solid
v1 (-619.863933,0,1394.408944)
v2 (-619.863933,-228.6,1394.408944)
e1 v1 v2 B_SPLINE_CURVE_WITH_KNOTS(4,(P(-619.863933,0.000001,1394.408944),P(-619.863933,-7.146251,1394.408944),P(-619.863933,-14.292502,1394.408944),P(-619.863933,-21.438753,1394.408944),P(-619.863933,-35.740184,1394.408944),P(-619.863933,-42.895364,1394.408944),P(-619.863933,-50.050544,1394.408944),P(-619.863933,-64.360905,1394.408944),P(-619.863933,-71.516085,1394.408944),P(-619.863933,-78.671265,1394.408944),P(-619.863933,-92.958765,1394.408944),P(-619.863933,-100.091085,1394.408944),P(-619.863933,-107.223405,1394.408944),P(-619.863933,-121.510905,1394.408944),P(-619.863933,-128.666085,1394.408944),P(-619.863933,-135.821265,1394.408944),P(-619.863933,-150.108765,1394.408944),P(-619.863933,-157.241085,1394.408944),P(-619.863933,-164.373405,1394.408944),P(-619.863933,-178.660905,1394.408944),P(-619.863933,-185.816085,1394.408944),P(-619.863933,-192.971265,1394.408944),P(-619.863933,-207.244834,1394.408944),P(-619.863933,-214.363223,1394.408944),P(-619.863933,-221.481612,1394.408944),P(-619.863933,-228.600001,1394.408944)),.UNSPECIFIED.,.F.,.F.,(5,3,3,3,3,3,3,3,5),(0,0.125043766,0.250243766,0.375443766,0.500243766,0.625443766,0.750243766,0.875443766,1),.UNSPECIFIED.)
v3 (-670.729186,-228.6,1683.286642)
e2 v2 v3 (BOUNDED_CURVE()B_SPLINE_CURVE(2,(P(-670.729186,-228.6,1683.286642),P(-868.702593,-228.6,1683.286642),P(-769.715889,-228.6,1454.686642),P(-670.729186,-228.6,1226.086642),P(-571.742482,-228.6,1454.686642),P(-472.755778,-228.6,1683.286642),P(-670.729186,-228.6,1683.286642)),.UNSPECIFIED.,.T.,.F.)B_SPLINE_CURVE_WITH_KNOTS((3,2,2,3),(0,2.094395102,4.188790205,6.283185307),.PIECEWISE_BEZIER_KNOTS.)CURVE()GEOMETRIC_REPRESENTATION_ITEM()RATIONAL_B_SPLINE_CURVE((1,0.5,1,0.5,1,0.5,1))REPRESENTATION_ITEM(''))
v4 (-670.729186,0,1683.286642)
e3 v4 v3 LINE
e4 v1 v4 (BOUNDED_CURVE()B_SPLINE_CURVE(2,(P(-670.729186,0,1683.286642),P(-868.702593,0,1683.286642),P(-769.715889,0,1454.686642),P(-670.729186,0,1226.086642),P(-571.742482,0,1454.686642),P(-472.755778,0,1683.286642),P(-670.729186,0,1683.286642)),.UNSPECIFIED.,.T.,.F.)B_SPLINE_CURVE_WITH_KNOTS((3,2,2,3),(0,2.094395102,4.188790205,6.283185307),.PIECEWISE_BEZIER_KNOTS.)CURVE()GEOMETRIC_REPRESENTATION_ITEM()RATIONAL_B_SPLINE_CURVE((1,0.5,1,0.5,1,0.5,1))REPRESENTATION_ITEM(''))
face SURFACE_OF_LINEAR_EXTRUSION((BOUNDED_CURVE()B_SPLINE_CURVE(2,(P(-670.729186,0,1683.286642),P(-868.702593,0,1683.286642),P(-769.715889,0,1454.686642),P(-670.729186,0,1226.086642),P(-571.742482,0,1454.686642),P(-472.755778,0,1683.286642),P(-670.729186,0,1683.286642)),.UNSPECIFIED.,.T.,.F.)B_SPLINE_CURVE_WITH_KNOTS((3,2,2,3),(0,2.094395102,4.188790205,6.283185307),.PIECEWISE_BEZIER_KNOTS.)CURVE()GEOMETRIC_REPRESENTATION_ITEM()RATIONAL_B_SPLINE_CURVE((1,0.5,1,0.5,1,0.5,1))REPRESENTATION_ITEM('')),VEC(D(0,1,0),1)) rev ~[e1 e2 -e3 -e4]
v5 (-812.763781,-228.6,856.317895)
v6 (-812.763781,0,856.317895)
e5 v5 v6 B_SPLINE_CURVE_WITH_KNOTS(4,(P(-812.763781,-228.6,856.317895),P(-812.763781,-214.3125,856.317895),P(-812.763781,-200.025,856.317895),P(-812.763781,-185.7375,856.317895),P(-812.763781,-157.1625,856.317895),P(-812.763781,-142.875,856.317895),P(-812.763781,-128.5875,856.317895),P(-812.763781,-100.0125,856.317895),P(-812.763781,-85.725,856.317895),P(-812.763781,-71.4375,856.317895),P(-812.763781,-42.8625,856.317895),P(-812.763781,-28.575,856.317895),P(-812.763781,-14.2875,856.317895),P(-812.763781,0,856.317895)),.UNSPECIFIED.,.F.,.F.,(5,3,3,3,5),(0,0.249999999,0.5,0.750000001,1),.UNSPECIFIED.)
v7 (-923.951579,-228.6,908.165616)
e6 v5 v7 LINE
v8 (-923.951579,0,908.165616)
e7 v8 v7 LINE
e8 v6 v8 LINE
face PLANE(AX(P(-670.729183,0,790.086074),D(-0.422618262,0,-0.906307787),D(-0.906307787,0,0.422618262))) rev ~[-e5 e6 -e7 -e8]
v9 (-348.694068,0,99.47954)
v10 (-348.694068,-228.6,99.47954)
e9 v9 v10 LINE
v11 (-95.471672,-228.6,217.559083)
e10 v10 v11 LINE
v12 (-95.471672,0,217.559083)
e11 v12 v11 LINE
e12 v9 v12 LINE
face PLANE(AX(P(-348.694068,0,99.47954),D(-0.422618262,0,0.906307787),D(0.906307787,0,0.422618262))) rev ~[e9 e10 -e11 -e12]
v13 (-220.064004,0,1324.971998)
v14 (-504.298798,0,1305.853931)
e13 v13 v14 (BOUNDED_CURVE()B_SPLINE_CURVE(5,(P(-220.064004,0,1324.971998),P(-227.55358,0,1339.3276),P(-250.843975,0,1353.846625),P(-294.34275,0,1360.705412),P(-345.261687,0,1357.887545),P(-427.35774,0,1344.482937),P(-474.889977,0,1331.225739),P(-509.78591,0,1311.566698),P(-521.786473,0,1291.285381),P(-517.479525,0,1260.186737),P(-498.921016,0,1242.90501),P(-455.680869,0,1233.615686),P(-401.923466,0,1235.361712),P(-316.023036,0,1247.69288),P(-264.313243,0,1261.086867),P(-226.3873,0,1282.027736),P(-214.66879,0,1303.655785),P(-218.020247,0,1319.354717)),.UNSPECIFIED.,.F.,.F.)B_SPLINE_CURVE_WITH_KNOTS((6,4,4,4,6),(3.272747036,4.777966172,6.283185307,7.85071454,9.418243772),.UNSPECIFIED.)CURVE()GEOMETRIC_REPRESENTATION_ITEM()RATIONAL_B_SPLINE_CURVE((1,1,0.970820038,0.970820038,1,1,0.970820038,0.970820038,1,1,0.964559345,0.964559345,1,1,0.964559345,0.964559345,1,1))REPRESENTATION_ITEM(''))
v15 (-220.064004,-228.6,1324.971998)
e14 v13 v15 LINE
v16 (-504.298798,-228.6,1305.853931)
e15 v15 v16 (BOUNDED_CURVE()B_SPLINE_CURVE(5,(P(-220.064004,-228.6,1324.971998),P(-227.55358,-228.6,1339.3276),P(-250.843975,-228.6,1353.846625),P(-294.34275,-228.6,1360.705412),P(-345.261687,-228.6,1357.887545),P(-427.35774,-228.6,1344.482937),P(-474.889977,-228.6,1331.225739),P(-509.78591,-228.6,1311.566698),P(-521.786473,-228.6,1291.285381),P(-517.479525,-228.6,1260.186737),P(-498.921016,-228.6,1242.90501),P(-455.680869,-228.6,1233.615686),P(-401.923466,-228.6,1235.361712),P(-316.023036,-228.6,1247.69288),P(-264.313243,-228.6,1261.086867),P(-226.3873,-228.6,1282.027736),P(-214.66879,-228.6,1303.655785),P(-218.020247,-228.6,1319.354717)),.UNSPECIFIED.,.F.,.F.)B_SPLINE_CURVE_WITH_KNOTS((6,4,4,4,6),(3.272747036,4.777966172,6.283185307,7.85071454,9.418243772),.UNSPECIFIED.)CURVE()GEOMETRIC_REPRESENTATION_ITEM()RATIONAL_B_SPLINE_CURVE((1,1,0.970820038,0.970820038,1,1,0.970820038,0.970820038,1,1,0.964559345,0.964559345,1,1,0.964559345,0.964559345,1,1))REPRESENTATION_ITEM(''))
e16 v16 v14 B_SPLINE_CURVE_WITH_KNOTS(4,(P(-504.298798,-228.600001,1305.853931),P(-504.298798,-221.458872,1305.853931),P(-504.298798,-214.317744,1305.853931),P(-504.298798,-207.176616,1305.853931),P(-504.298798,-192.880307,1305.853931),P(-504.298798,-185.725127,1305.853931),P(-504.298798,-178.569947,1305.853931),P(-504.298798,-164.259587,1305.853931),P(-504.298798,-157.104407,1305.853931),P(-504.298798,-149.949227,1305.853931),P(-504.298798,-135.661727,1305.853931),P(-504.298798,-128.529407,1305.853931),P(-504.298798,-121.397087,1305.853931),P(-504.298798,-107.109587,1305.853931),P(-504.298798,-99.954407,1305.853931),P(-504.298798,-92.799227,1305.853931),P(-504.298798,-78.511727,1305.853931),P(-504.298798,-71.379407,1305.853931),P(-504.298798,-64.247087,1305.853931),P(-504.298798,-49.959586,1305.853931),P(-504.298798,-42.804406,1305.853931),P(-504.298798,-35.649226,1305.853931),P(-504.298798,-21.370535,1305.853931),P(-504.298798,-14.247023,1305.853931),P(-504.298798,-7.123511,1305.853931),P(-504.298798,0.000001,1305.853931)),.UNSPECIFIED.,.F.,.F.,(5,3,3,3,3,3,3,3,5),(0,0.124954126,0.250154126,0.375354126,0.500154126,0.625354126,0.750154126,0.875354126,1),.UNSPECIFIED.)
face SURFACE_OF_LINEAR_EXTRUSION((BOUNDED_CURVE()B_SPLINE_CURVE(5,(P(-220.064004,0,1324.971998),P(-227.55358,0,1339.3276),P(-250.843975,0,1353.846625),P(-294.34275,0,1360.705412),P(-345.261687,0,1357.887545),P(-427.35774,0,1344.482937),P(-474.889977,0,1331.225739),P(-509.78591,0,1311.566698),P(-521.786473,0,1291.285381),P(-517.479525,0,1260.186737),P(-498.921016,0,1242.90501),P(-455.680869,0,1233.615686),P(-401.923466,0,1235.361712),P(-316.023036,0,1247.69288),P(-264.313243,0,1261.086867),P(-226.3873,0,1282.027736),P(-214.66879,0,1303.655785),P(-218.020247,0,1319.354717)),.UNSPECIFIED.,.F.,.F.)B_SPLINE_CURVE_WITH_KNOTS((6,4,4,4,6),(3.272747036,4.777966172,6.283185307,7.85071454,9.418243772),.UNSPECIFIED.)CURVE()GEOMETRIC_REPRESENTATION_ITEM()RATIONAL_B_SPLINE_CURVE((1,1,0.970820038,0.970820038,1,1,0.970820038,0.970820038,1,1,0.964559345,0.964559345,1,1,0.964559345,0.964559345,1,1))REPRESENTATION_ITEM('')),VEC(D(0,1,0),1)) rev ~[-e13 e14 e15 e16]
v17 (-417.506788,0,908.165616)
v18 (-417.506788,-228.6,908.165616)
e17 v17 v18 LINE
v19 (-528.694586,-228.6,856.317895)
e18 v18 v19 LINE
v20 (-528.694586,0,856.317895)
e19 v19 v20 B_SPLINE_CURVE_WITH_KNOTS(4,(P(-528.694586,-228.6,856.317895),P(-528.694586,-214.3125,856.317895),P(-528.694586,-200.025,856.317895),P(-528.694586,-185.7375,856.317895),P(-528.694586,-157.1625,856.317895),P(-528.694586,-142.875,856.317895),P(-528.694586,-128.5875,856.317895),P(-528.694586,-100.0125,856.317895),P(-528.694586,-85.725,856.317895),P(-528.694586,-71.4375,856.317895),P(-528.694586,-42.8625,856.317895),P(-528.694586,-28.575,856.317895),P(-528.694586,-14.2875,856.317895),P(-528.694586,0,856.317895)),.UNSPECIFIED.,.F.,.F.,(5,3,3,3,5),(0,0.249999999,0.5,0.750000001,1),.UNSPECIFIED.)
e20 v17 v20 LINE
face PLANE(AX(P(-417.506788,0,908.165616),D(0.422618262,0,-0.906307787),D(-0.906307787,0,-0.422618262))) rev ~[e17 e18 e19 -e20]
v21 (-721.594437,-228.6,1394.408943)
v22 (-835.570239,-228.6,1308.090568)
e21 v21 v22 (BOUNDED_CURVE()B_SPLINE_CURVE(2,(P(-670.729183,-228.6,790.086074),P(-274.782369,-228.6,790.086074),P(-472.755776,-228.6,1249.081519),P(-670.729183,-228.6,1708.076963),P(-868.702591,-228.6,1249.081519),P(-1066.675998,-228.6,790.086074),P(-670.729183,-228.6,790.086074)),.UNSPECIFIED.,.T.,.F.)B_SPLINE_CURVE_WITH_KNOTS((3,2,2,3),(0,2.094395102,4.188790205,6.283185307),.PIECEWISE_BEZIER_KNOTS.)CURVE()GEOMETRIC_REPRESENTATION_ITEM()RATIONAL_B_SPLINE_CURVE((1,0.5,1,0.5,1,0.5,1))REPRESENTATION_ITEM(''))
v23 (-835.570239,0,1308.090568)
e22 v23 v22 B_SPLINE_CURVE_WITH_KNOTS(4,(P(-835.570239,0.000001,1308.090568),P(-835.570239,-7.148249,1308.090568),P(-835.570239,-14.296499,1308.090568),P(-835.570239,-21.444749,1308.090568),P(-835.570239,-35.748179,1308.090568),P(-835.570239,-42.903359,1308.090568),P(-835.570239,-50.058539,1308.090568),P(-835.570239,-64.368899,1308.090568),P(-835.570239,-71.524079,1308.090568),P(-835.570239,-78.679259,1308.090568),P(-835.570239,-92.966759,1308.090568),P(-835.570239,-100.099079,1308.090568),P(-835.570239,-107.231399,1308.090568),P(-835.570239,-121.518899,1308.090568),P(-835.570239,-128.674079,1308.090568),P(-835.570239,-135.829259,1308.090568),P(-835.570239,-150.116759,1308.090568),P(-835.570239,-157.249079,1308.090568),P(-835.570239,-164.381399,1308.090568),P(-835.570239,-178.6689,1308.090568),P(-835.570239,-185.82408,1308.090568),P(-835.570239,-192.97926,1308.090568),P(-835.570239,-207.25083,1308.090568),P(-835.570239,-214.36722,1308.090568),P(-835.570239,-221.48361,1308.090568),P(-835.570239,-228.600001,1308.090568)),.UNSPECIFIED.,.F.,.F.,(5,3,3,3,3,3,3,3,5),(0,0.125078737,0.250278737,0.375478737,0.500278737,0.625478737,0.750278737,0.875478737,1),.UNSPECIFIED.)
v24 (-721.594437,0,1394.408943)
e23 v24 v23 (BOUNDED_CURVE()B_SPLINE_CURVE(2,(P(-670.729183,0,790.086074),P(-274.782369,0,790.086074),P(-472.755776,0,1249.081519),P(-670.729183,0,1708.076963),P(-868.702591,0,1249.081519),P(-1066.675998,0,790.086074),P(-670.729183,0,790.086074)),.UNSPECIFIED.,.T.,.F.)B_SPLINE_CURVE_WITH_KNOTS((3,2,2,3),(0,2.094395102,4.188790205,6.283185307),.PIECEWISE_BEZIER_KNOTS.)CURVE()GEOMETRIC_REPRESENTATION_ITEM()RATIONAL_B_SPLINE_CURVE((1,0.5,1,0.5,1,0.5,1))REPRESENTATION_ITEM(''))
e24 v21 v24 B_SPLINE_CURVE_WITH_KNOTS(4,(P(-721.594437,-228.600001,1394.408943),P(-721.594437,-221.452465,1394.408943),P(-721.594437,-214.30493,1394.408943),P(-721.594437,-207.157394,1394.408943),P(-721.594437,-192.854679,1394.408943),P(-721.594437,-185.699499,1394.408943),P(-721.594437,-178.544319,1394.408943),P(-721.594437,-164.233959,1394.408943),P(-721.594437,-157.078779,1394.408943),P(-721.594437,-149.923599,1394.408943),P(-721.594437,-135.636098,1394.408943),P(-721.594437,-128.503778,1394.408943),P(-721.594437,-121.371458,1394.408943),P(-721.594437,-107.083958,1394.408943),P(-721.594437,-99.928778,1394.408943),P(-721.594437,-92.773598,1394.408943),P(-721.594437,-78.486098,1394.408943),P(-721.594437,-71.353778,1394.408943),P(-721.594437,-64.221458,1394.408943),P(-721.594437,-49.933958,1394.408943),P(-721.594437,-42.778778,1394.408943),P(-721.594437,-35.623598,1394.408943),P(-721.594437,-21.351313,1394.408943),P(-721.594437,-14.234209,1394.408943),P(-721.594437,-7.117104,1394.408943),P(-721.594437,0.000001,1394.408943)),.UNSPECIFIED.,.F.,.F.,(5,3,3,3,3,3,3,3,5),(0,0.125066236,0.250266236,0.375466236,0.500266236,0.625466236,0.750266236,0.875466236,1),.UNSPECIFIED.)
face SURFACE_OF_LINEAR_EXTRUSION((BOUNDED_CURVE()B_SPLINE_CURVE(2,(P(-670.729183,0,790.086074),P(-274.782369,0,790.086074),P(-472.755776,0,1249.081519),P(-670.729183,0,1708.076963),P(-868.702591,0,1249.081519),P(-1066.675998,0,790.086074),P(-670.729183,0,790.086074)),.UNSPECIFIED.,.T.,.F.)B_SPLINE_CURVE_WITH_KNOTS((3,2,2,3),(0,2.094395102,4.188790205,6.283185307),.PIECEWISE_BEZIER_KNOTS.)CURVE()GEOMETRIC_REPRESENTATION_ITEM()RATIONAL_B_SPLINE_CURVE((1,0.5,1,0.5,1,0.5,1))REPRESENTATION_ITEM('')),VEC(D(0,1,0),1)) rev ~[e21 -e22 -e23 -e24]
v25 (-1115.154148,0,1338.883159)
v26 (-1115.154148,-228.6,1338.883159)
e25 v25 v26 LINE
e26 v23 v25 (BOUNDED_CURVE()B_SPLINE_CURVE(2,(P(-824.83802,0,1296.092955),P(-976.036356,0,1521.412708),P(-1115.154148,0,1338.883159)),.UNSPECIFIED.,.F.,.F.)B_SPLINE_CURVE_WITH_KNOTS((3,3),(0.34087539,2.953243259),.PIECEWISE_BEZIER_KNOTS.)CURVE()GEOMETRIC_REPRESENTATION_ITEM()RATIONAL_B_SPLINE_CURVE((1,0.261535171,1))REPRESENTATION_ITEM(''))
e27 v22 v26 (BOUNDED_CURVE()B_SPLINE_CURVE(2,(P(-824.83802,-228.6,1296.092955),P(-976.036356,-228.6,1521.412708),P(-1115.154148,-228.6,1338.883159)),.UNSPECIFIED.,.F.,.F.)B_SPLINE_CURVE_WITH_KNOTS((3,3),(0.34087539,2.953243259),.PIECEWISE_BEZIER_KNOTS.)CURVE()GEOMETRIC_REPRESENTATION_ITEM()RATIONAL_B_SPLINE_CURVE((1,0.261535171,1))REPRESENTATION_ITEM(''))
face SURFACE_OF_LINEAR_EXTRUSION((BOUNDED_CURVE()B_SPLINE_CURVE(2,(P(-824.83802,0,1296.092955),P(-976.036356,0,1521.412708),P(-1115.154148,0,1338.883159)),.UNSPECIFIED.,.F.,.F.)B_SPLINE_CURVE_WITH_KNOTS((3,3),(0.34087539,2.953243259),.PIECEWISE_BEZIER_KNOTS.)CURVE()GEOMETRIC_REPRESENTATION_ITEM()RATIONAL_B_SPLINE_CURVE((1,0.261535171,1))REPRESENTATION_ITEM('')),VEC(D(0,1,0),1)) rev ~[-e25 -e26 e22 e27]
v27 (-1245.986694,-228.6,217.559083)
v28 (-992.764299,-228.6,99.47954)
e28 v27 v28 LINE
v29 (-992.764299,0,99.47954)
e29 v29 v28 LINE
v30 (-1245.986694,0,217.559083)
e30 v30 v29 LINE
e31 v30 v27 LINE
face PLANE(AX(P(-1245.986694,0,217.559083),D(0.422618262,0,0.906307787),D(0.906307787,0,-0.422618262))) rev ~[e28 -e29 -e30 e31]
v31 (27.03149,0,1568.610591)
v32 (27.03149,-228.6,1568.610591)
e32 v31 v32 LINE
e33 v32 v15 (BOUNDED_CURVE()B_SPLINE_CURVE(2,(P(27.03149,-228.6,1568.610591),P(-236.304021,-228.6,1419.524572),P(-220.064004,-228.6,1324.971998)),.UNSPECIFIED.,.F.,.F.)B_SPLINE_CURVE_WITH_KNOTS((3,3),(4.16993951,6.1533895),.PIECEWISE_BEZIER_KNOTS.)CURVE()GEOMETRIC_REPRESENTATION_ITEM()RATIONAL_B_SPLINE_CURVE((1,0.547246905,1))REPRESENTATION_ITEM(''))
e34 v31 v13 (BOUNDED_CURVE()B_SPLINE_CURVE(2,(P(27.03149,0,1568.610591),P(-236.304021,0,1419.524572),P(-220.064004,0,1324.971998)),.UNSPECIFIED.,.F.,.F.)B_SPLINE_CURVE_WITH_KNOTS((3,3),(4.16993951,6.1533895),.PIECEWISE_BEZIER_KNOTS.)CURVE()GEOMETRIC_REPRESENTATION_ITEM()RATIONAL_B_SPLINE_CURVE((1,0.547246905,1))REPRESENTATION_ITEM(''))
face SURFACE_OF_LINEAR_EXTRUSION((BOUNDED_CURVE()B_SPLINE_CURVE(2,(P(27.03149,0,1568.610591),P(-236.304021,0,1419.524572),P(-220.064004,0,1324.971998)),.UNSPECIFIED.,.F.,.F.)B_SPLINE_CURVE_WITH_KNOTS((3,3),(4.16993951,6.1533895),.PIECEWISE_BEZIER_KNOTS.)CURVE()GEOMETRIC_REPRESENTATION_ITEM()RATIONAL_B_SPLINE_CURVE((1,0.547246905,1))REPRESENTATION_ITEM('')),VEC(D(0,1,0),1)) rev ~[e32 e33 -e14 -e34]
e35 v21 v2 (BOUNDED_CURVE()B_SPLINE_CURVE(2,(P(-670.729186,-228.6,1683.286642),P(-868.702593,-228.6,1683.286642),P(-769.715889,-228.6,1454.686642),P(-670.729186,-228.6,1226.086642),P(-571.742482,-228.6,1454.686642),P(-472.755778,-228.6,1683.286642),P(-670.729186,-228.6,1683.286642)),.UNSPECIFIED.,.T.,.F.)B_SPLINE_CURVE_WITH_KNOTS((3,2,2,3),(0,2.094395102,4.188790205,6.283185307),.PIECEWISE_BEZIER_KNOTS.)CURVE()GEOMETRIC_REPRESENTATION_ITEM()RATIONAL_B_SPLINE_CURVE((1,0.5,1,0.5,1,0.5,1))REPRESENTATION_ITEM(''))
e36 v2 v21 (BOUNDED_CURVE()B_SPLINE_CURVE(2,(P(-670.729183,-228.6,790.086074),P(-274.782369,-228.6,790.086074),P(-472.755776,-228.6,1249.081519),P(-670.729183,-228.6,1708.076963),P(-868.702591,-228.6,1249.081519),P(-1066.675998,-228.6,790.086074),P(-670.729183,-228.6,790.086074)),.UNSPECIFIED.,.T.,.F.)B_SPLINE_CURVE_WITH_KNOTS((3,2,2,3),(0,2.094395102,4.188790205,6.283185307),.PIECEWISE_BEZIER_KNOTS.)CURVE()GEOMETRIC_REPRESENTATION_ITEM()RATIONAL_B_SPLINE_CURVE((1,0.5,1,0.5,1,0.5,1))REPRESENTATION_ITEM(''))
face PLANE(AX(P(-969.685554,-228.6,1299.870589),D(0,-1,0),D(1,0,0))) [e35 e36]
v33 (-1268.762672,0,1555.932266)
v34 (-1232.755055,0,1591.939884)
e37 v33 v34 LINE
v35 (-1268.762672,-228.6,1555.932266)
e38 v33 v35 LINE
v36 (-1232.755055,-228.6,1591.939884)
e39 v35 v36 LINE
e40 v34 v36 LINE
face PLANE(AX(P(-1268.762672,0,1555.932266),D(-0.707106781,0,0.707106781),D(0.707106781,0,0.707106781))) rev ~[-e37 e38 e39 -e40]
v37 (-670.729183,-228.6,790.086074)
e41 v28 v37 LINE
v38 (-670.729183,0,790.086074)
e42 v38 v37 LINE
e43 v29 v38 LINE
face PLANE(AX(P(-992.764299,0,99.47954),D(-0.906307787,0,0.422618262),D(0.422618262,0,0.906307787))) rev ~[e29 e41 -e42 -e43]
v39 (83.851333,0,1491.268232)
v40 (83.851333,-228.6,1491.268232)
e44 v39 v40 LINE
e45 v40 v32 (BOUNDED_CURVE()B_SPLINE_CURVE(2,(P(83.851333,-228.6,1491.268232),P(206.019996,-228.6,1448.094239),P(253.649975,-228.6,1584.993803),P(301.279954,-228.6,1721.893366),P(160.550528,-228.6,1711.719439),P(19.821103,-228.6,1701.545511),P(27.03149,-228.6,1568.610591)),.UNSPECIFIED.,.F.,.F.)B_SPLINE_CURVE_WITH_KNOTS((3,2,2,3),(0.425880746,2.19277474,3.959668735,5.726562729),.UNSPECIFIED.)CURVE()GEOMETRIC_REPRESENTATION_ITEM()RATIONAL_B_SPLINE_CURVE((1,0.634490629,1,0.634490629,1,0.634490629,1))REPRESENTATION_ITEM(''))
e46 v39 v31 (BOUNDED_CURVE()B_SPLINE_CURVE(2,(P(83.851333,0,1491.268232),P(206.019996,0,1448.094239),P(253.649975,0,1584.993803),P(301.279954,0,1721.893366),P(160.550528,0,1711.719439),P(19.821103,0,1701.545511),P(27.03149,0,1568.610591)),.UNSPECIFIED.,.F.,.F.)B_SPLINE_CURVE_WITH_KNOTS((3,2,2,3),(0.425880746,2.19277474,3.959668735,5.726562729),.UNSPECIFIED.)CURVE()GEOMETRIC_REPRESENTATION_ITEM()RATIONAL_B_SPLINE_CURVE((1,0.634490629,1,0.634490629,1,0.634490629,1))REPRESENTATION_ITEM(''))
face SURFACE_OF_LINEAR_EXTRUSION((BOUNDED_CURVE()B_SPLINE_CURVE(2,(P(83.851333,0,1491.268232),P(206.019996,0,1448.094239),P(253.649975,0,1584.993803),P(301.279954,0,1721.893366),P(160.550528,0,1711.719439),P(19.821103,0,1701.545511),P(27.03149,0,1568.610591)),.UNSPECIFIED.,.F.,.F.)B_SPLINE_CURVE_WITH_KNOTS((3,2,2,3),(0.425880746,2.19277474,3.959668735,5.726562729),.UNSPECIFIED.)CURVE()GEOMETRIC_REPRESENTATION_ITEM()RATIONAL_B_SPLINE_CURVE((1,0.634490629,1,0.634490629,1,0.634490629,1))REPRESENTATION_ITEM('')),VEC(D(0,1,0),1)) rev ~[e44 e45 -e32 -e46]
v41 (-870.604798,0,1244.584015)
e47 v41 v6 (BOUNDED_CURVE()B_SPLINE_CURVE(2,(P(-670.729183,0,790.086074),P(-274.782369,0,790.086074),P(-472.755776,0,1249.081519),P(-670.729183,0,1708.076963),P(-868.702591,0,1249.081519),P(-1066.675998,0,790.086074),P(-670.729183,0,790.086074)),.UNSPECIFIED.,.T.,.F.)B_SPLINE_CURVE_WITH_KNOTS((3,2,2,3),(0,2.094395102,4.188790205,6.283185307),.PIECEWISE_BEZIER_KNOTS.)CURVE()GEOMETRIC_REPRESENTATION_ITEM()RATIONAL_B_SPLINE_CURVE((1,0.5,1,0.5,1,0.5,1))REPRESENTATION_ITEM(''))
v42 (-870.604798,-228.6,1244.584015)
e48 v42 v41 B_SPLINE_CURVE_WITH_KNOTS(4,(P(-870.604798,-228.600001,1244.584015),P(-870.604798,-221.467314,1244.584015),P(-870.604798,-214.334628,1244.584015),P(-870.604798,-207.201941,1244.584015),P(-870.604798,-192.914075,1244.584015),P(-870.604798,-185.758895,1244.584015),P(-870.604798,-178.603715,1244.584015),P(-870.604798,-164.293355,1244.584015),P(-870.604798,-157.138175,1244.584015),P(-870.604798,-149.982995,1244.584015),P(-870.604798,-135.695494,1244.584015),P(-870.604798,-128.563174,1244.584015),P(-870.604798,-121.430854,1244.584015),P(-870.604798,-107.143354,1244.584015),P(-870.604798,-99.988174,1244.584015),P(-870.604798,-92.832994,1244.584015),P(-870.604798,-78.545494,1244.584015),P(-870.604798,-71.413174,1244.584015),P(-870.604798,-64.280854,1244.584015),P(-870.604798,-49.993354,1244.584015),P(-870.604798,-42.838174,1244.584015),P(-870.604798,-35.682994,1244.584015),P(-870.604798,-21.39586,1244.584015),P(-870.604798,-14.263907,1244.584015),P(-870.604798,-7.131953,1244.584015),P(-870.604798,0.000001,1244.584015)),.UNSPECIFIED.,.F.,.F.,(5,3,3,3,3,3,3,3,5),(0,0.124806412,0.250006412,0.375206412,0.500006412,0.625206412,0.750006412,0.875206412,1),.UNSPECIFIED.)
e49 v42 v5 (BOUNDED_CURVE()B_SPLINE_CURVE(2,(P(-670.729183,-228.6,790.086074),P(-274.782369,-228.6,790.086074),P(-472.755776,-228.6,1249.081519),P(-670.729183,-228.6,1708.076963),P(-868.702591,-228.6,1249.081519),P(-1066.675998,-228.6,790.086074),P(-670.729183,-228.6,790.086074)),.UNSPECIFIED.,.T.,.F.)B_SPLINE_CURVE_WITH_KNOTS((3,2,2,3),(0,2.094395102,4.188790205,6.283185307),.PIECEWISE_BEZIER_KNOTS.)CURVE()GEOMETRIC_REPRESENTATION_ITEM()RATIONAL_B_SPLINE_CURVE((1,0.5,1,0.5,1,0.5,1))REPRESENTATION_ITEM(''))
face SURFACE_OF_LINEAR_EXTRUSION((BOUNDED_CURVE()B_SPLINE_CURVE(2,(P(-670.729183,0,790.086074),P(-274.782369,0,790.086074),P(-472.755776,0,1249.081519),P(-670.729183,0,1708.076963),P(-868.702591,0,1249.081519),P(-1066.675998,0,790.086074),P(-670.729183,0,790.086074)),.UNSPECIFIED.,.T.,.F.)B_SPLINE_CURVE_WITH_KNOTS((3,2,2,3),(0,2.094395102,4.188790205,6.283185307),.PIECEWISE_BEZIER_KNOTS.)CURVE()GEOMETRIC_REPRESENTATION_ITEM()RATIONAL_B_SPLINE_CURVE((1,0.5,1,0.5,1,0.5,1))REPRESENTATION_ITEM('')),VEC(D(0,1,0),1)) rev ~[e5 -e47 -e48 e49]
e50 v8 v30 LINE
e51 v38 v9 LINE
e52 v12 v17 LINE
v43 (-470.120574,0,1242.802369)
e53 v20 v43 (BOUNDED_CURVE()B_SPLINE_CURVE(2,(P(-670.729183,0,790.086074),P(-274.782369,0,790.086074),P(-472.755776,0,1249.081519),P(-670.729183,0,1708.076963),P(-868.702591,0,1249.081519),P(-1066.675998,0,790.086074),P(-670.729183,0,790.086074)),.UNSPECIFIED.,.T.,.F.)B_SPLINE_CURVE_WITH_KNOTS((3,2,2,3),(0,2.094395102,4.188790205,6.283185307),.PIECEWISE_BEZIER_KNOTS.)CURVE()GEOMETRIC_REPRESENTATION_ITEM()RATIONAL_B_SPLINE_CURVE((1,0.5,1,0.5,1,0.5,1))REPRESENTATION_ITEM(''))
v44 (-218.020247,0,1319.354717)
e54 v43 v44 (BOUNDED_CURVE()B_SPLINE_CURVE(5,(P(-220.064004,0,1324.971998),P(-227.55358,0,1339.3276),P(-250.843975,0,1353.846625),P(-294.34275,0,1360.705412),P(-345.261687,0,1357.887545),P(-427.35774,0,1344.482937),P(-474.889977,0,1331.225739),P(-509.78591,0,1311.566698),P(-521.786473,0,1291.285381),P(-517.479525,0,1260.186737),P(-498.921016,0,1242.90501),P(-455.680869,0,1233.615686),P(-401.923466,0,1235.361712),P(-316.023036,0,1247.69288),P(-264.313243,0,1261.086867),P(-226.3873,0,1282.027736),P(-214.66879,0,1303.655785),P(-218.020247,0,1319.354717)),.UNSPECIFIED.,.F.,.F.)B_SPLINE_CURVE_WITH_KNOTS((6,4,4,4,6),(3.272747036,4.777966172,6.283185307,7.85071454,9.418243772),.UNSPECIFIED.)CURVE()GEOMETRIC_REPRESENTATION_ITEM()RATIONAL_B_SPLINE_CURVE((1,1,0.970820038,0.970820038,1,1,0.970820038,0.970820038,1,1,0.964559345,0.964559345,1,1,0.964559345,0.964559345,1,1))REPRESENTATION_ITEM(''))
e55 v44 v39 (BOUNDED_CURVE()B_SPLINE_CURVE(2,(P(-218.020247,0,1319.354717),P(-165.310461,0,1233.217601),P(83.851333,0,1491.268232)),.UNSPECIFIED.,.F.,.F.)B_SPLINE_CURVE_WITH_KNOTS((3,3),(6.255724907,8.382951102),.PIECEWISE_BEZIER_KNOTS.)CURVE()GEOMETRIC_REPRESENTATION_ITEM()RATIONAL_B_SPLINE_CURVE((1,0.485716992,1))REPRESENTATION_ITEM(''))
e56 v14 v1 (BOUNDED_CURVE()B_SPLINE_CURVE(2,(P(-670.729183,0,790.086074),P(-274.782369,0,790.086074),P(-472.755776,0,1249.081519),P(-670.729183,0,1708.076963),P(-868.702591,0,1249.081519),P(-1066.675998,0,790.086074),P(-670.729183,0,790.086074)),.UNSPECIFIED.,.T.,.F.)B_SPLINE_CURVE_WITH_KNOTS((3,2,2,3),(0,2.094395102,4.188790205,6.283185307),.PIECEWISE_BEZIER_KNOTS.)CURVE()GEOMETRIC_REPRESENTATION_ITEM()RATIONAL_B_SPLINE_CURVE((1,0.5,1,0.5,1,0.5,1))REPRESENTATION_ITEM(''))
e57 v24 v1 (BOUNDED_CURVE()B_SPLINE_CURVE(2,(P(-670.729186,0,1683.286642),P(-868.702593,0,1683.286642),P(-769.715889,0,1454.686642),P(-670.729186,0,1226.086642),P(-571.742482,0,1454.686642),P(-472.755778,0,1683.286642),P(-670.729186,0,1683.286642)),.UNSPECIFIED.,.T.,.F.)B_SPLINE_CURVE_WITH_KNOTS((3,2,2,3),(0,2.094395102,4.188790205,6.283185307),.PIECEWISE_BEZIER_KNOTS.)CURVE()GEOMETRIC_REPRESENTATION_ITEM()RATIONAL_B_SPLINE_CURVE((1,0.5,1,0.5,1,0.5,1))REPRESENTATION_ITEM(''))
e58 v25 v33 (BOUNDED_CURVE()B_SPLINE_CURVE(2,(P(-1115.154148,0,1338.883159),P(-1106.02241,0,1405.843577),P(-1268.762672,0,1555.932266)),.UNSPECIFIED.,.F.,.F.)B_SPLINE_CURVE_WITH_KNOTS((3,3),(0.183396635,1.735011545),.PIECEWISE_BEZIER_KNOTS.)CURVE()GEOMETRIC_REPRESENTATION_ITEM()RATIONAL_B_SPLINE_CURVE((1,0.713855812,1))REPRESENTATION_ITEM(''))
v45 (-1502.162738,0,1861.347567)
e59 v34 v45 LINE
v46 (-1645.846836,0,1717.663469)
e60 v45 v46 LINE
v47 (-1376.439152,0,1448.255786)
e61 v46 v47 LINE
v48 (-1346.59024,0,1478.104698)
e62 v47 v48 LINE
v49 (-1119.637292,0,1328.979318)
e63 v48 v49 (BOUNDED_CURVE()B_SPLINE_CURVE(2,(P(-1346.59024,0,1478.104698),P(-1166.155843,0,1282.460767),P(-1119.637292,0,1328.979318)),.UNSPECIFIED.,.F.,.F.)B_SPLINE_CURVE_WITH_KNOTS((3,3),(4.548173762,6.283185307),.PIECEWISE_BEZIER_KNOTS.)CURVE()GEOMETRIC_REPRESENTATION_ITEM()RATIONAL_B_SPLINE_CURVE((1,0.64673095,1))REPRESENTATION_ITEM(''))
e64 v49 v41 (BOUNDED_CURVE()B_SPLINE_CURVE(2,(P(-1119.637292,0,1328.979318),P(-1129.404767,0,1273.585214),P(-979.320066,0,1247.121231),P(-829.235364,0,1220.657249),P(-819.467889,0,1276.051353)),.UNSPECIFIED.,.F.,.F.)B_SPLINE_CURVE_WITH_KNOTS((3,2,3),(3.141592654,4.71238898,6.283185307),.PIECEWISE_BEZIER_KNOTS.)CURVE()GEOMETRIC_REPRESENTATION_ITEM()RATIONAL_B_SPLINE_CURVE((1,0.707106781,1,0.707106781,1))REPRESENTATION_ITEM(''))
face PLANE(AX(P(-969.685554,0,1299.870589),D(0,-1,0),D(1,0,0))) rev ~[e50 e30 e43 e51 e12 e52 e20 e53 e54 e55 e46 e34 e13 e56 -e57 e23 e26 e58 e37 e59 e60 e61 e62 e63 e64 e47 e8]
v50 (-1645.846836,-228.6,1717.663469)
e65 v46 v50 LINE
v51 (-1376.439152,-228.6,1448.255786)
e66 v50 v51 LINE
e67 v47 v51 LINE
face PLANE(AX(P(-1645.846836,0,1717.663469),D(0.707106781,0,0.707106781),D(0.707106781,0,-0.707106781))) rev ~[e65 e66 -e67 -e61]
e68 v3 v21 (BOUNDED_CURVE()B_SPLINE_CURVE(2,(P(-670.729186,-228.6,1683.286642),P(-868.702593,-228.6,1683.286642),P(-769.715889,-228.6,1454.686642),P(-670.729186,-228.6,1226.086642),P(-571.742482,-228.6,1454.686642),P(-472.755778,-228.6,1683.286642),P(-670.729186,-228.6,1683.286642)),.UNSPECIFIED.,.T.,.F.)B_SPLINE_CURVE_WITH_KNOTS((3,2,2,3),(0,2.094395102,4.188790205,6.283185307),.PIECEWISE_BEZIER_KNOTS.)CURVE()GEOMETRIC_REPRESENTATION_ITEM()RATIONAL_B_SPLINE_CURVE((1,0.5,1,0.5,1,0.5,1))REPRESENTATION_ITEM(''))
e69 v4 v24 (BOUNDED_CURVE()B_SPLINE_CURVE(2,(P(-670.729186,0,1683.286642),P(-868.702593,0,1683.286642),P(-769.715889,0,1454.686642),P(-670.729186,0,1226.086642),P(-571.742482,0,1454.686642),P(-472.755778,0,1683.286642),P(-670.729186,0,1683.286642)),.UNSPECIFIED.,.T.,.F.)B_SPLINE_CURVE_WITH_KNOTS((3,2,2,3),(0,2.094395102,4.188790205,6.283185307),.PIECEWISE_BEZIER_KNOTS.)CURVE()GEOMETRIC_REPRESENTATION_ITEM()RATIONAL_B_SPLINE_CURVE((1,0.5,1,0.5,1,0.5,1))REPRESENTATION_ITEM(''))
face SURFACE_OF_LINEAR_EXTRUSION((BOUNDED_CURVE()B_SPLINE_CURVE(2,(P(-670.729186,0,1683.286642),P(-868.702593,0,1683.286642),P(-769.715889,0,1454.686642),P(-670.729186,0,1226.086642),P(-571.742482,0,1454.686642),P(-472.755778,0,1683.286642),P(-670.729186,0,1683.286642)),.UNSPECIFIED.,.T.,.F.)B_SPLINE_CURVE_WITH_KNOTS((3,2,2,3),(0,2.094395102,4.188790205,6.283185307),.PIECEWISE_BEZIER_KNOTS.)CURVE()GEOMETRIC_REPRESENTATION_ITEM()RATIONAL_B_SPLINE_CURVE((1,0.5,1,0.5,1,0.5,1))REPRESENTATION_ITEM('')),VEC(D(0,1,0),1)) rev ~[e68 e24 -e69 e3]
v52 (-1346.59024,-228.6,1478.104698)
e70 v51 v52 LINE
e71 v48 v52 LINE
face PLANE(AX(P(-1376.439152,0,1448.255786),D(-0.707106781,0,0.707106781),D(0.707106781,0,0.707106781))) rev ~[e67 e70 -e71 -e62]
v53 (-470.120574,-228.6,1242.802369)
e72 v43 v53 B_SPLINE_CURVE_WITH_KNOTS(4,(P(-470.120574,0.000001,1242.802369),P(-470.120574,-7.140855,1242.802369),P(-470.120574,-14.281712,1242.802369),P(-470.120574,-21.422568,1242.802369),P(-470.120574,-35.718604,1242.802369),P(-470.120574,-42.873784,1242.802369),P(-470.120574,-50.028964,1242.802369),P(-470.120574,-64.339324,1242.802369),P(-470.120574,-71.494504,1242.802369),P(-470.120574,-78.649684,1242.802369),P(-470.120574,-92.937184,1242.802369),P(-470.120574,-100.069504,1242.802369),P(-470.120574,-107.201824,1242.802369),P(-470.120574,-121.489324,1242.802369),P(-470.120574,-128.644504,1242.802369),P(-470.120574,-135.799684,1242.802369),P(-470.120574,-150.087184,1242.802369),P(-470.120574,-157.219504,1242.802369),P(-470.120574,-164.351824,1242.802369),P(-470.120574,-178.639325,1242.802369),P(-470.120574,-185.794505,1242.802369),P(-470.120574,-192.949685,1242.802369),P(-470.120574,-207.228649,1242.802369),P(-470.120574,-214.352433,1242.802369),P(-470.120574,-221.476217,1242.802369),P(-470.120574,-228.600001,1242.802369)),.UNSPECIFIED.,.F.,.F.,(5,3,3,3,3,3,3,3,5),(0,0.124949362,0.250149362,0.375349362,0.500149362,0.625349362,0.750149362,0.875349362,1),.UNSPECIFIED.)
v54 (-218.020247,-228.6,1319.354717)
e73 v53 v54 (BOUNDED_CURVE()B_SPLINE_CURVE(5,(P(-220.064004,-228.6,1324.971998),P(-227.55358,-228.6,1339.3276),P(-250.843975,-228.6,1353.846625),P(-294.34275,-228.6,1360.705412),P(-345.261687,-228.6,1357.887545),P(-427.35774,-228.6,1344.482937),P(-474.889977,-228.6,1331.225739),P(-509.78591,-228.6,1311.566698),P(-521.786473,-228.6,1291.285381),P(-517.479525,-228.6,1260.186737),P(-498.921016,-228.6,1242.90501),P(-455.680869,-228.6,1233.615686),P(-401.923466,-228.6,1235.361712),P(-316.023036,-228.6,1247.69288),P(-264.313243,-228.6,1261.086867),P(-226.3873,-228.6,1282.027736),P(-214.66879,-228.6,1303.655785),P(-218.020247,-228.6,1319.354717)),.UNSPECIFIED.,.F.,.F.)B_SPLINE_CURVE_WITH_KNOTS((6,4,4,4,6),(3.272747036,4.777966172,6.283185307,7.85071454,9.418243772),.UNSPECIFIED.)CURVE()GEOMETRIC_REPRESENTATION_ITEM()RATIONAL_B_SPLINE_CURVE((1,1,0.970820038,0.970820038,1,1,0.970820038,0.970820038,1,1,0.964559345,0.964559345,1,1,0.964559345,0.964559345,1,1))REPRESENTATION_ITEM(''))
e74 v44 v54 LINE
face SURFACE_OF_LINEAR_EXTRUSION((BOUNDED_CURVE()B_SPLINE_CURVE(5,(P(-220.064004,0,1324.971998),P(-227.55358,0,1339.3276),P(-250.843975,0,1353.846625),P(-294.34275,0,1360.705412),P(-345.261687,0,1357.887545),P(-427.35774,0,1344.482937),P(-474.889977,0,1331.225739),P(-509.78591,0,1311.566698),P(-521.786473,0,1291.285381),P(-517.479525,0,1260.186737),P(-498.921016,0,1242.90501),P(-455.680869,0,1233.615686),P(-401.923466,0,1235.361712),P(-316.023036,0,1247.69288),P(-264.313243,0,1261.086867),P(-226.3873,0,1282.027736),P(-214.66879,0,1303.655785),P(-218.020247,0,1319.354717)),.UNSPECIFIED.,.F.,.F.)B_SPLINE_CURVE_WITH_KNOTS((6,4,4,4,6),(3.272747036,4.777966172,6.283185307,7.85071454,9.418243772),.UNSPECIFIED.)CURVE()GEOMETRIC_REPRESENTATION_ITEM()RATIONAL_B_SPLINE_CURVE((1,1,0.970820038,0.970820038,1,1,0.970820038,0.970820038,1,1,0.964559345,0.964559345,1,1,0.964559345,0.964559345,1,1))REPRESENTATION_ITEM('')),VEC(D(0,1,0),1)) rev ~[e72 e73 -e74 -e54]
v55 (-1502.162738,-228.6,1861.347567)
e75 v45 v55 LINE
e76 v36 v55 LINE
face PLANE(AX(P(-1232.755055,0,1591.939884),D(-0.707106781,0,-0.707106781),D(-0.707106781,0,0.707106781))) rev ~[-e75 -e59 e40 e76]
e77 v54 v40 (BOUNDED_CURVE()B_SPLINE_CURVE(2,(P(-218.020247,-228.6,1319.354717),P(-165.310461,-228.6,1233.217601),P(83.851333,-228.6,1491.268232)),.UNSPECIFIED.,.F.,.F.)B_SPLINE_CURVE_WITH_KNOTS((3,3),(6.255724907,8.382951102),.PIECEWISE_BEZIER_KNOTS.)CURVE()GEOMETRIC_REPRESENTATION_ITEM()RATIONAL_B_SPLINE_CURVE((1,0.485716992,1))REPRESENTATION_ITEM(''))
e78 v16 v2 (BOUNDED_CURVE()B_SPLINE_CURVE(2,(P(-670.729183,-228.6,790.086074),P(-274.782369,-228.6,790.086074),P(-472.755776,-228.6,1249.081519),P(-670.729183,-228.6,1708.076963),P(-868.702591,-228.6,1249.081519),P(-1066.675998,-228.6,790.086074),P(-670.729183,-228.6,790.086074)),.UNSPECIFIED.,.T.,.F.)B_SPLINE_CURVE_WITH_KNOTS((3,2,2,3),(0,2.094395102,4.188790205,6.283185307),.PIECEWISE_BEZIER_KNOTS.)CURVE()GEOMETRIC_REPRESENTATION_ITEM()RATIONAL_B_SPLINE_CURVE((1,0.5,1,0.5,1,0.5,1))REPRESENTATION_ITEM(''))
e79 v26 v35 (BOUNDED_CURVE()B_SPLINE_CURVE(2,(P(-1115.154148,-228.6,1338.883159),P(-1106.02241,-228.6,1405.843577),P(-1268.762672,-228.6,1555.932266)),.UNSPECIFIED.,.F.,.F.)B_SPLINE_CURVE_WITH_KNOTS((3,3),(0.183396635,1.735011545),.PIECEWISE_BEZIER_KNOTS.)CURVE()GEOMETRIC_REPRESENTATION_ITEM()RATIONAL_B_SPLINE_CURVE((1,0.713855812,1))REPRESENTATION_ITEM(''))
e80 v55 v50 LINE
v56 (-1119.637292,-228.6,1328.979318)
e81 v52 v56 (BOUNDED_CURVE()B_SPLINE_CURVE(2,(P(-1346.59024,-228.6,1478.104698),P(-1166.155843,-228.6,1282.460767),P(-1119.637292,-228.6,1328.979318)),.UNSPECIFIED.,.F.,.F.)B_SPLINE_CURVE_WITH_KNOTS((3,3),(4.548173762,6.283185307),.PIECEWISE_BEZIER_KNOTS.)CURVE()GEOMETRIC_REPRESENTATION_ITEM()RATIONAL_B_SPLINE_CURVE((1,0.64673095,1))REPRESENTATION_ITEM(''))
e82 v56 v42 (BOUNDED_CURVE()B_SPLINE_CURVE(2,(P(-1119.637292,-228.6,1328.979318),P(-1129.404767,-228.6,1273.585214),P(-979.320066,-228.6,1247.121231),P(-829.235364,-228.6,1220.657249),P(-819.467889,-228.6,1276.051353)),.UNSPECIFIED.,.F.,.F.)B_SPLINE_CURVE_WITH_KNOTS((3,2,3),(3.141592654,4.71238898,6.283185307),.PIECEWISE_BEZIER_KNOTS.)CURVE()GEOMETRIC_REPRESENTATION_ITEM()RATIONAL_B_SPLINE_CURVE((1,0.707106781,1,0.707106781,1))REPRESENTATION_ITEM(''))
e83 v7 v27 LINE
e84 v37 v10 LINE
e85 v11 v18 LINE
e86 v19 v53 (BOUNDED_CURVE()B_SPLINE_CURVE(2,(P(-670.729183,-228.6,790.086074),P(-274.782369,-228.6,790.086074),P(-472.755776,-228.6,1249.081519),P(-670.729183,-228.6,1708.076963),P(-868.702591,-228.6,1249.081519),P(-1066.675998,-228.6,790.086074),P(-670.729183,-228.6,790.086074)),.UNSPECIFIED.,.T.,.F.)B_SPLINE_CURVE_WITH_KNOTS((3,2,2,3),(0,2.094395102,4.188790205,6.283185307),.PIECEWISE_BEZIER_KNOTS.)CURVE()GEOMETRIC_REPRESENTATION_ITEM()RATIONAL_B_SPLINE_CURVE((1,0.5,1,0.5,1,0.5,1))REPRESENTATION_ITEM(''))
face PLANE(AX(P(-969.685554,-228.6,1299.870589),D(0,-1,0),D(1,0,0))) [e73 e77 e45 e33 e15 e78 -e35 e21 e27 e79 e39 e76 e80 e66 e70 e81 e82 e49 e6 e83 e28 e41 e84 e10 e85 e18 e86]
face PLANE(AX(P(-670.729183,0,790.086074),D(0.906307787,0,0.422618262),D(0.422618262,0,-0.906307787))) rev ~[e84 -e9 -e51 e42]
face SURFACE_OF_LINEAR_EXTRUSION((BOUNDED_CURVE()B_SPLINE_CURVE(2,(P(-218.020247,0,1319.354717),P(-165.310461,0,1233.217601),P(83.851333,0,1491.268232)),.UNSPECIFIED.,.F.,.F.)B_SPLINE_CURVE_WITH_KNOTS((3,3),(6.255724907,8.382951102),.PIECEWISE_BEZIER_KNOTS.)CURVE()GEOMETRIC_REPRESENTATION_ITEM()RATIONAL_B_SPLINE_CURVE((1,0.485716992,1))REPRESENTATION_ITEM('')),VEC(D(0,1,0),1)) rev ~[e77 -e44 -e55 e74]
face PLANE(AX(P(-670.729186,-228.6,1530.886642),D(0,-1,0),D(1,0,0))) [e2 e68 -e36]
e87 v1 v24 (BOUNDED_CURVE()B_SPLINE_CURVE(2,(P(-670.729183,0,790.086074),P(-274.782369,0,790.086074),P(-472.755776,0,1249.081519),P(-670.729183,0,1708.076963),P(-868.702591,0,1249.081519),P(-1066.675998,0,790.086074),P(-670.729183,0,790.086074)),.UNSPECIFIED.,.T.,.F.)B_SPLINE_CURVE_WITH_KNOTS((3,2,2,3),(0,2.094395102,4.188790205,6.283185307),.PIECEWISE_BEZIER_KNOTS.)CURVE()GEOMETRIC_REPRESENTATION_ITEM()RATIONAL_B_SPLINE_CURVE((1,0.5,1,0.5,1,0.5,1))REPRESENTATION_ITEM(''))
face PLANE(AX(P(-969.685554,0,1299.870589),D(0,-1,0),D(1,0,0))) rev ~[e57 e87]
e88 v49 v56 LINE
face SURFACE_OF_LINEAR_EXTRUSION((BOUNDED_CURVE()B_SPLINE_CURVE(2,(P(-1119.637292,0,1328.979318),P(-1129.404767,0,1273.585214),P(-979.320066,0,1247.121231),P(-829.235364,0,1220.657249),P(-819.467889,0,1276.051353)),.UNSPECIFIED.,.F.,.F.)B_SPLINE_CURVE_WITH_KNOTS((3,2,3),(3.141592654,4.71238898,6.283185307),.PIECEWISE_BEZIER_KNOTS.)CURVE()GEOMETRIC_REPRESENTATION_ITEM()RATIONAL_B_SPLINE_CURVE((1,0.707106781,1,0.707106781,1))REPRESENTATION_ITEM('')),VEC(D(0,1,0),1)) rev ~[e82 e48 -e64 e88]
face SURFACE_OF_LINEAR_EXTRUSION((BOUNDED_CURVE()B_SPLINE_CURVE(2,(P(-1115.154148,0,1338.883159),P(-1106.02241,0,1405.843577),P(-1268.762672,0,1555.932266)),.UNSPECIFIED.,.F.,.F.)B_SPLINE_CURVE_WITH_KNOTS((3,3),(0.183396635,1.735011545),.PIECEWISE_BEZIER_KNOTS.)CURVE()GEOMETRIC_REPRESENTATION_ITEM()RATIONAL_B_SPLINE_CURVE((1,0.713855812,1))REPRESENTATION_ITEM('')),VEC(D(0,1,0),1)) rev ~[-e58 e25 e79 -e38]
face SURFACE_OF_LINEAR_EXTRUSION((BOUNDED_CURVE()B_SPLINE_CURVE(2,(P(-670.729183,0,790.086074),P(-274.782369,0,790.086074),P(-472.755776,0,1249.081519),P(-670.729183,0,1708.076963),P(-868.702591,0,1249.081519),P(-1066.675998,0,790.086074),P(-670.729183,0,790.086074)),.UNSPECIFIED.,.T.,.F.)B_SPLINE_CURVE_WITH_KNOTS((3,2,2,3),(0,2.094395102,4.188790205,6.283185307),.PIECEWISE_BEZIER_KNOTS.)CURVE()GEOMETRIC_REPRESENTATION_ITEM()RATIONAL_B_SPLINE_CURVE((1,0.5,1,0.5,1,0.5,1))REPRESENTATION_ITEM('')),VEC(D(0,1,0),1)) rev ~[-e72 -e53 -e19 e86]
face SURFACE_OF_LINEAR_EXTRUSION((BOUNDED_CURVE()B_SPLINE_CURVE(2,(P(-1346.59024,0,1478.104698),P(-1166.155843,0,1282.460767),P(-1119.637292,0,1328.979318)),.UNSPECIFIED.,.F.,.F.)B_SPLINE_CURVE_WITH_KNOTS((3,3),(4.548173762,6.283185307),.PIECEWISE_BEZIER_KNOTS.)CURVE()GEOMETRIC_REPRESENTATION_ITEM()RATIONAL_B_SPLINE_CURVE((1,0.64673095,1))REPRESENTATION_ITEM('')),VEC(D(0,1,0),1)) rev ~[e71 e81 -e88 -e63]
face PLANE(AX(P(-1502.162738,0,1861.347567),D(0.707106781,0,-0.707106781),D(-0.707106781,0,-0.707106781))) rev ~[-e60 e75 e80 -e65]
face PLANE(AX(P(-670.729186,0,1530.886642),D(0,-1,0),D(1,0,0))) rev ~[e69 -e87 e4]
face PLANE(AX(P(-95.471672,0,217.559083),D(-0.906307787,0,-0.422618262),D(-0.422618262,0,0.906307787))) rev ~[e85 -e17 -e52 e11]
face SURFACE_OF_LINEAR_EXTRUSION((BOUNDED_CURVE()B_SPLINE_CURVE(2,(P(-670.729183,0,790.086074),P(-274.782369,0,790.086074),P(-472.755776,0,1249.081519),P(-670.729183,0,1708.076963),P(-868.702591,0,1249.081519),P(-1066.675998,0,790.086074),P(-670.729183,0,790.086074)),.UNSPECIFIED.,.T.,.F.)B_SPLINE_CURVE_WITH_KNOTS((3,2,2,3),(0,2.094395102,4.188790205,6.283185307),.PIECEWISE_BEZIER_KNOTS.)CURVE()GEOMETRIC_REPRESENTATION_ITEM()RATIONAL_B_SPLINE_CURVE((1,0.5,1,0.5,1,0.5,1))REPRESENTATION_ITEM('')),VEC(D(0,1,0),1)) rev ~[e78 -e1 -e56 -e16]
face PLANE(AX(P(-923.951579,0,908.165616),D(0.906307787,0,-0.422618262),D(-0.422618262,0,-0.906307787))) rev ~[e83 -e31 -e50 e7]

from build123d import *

# Parameters (mm, degrees)
F1_DEPTH = 228.6
F3_DEPTH = 228.6
F5_DEPTH = 228.6
F7_DEPTH = 228.6


with BuildPart() as f1:
    # F0 (on Front) → F1 (new body)
    with BuildSketch(Plane.XZ):
        Polygon((-417.506787508, 908.1656164874), (-670.729183206, 790.086074157), (-348.6940677596, 99.4795404351), (-95.4716720616, 217.5590827655), align=None)
    extrude(amount=F1_DEPTH)



with BuildPart() as f1b:
    # F0 (on Front) → F1, piece 2 (new body)
    with BuildSketch(Plane.XZ):
        Polygon((-992.7642986524, 99.4795404351), (-670.729183206, 790.086074157), (-923.9515789041, 908.1656164874), (-1245.9866943505, 217.5590827655), align=None)
    extrude(amount=F1_DEPTH)


with BuildPart() as f1_1:
    add(f1.part)

    add(f1b.part)  # F3 merges F1b
    # F2 (on Front) → F3 (join)
    with BuildSketch(Plane.XZ):
        with BuildLine():
            add(Edge.make_bspline(
                [(-670.729183206, 790.086074157), (-274.7823685958, 790.086074157), (-472.7557759009, 1249.0815185393), (-670.729183206, 1708.0769629215), (-868.7025905111, 1249.0815185393), (-1066.6759978163, 790.086074157), (-670.729183206, 790.086074157)],
                knots=[0, 0, 0, 2.0943951024, 2.0943951024, 4.1887902048, 4.1887902048, 6.2831853072, 6.2831853072, 6.2831853072], degree=2, weights=[1, 0.5, 1, 0.5, 1, 0.5, 1]))
        make_face()
    extrude(amount=F3_DEPTH)

    # F4 (on Front) → F5 (join)
    with BuildSketch(Plane.XZ):
        with BuildLine():
            add(Edge.make_bspline(
                [(-1119.6372919656, 1328.9793179683), (-1129.4047671221, 1273.5852136898), (-979.320065563, 1247.1212314133), (-829.235364004, 1220.6572491369), (-819.4678888475, 1276.0513534154)],
                knots=[3.1415926536, 3.1415926536, 3.1415926536, 4.7123889804, 4.7123889804, 6.2831853072, 6.2831853072, 6.2831853072], degree=2, weights=[1, 0.7071067812, 1, 0.7071067812, 1]))
            Line((-819.4678888475, 1276.0513534154), (-824.8380199135, 1296.0929553971))
            add(Edge.make_bspline(
                [(-824.8380199135, 1296.0929553971), (-976.0363555723, 1521.4127082825), (-1115.1541483506, 1338.8831593496)],
                knots=[0.3408753905, 0.3408753905, 0.3408753905, 2.9532432588, 2.9532432588, 2.9532432588], degree=2, weights=[1, 0.2615351715, 1]))
            add(Edge.make_bspline(
                [(-1119.6372919656, 1328.9793179683), (-1116.0101318347, 1332.6064780992), (-1115.1541483506, 1338.8831593496)],
                knots=[0, 0, 0, 0.1833966347, 0.1833966347, 0.1833966347], degree=2, weights=[1, 0.9957986545, 1]))
        make_face()
        with BuildLine():
            Line((-824.8380199135, 1296.0929553971), (-819.4678888475, 1276.0513534154))
            add(Edge.make_bspline(
                [(-819.4678888475, 1276.0513534154), (-817.7868336202, 1285.5850913638), (-824.8380199135, 1296.0929553971)],
                knots=[0, 0, 0, 0.3408753905, 0.3408753905, 0.3408753905], degree=2, weights=[1, 0.9855106222, 1]))
        make_face()
        with BuildLine():
            add(Edge.make_bspline(
                [(-1346.590239894, 1478.1046982745), (-1166.1558427335, 1282.4607672004), (-1119.6372919656, 1328.9793179683)],
                knots=[4.5481737623, 4.5481737623, 4.5481737623, 6.2831853072, 6.2831853072, 6.2831853072], degree=2, weights=[1, 0.6467309498, 1]))
            add(Edge.make_bspline(
                [(-1115.1541483506, 1338.8831593496), (-1118.7147139253, 1334.2115180353), (-1119.6372919656, 1328.9793179683)],
                knots=[2.9532432588, 2.9532432588, 2.9532432588, 3.1415926536, 3.1415926536, 3.1415926536], degree=2, weights=[1, 0.9955688396, 1]))
            add(Edge.make_bspline(
                [(-1115.1541483506, 1338.8831593496), (-1106.0224099067, 1405.8435768565), (-1268.7626722718, 1555.9322658967)],
                knots=[0.1833966347, 0.1833966347, 0.1833966347, 1.7350115449, 1.7350115449, 1.7350115449], degree=2, weights=[1, 0.7138558119, 1]))
            Line((-1268.7626722718, 1555.9322658967), (-1232.7550545286, 1591.9398836399))
            Line((-1232.7550545286, 1591.9398836399), (-1502.1627381607, 1861.347567272))
            Line((-1502.1627381607, 1861.347567272), (-1645.8468360978, 1717.6634693349))
            Line((-1645.8468360978, 1717.6634693349), (-1376.4391524657, 1448.2557857028))
            Line((-1376.4391524657, 1448.2557857028), (-1346.590239894, 1478.1046982745))
        make_face()
        with BuildLine():
            add(Edge.make_bspline(
                [(-1115.1541483506, 1338.8831593496), (-1118.7147139253, 1334.2115180353), (-1119.6372919656, 1328.9793179683)],
                knots=[2.9532432588, 2.9532432588, 2.9532432588, 3.1415926536, 3.1415926536, 3.1415926536], degree=2, weights=[1, 0.9955688396, 1]))
            add(Edge.make_bspline(
                [(-1119.6372919656, 1328.9793179683), (-1116.0101318347, 1332.6064780992), (-1115.1541483506, 1338.8831593496)],
                knots=[0, 0, 0, 0.1833966347, 0.1833966347, 0.1833966347], degree=2, weights=[1, 0.9957986545, 1]))
        make_face()
        with BuildLine():
            add(Edge.make_bspline(
                [(-220.0640037242, 1324.9719982086), (-245.7164837118, 1374.1412422475), (-386.3097131186, 1351.1852408137), (-526.9029425254, 1328.2292393798), (-519.6766675333, 1276.0513725922)],
                knots=[3.2727470362, 3.2727470362, 3.2727470362, 4.7779661717, 4.7779661717, 6.2831853072, 6.2831853072, 6.2831853072], degree=2, weights=[1, 0.729907597, 1, 0.729907597, 1]))
            add(Edge.make_bspline(
                [(-519.6766675333, 1276.0513725922), (-511.8558698391, 1219.5807095315), (-358.9732507465, 1241.5272960266), (-206.0906316539, 1263.4738825218), (-218.0202465192, 1319.354717177)],
                knots=[0, 0, 0, 1.5842345478, 1.5842345478, 3.1684690956, 3.1684690956, 3.1684690956], degree=2, weights=[1, 0.7023397267, 1, 0.7023397267, 1]))
            add(Edge.make_bspline(
                [(-220.0640037242, 1324.9719982086), (-219.5202096675, 1321.8059223504), (-218.0202465192, 1319.354717177)],
                knots=[6.1533894996, 6.1533894996, 6.1533894996, 6.2557249069, 6.2557249069, 6.2557249069], degree=2, weights=[1, 0.9986912186, 1]))
        make_face()
        with BuildLine():
            add(Edge.make_bspline(
                [(-220.0640037242, 1324.9719982086), (-219.5202096675, 1321.8059223504), (-218.0202465192, 1319.354717177)],
                knots=[6.1533894996, 6.1533894996, 6.1533894996, 6.2557249069, 6.2557249069, 6.2557249069], degree=2, weights=[1, 0.9986912186, 1]))
            add(Edge.make_bspline(
                [(-218.0202465192, 1319.354717177), (-218.6344981829, 1322.2320016528), (-220.0640037242, 1324.9719982086)],
                knots=[3.1684690956, 3.1684690956, 3.1684690956, 3.2727470362, 3.2727470362, 3.2727470362], degree=2, weights=[1, 0.9986410718, 1]))
        make_face()
        with BuildLine():
            add(Edge.make_bspline(
                [(-218.0202465192, 1319.354717177), (-218.6344981829, 1322.2320016528), (-220.0640037242, 1324.9719982086)],
                knots=[3.1684690956, 3.1684690956, 3.1684690956, 3.2727470362, 3.2727470362, 3.2727470362], degree=2, weights=[1, 0.9986410718, 1]))
            add(Edge.make_bspline(
                [(-218.0202465192, 1319.354717177), (-165.3104605433, 1233.2176009287), (83.8513333913, 1491.2682324307)],
                knots=[6.2557249069, 6.2557249069, 6.2557249069, 8.3829511016, 8.3829511016, 8.3829511016], degree=2, weights=[1, 0.4857169924, 1]))
            add(Edge.make_bspline(
                [(83.8513333913, 1491.2682324307), (206.0199962311, 1448.0942394411), (253.6499750502, 1584.9938029487), (301.2799538693, 1721.8933664563), (160.5505282117, 1711.7194388481), (19.8211025542, 1701.5455112398), (27.0314901571, 1568.6105906303)],
                knots=[0.4258807459, 0.4258807459, 0.4258807459, 2.1927747403, 2.1927747403, 3.9596687347, 3.9596687347, 5.7265627292, 5.7265627292, 5.7265627292], degree=2, weights=[1, 0.6344906294, 1, 0.6344906294, 1, 0.6344906294, 1]))
            add(Edge.make_bspline(
                [(27.0314901571, 1568.6105906303), (-236.3040213491, 1419.5245721323), (-220.0640037242, 1324.9719982086)],
                knots=[4.1699395104, 4.1699395104, 4.1699395104, 6.1533894996, 6.1533894996, 6.1533894996], degree=2, weights=[1, 0.5472469046, 1]))
        make_face()
    extrude(amount=F5_DEPTH)

    # F6 (on Front) → F7 (join)
    with BuildSketch(Plane.XZ):
        with BuildLine():
            add(Edge.make_bspline(
                [(-670.7291857719, 1683.2866416931), (-868.7025930771, 1683.2866416931), (-769.7158894245, 1454.6866416931), (-670.7291857719, 1226.0866416931), (-571.7424821194, 1454.6866416931), (-472.7557784668, 1683.2866416931), (-670.7291857719, 1683.2866416931)],
                knots=[0, 0, 0, 2.0943951024, 2.0943951024, 4.1887902048, 4.1887902048, 6.2831853072, 6.2831853072, 6.2831853072], degree=2, weights=[1, 0.5, 1, 0.5, 1, 0.5, 1]))
        make_face()
    extrude(amount=F7_DEPTH)


solid = f1_1.part
